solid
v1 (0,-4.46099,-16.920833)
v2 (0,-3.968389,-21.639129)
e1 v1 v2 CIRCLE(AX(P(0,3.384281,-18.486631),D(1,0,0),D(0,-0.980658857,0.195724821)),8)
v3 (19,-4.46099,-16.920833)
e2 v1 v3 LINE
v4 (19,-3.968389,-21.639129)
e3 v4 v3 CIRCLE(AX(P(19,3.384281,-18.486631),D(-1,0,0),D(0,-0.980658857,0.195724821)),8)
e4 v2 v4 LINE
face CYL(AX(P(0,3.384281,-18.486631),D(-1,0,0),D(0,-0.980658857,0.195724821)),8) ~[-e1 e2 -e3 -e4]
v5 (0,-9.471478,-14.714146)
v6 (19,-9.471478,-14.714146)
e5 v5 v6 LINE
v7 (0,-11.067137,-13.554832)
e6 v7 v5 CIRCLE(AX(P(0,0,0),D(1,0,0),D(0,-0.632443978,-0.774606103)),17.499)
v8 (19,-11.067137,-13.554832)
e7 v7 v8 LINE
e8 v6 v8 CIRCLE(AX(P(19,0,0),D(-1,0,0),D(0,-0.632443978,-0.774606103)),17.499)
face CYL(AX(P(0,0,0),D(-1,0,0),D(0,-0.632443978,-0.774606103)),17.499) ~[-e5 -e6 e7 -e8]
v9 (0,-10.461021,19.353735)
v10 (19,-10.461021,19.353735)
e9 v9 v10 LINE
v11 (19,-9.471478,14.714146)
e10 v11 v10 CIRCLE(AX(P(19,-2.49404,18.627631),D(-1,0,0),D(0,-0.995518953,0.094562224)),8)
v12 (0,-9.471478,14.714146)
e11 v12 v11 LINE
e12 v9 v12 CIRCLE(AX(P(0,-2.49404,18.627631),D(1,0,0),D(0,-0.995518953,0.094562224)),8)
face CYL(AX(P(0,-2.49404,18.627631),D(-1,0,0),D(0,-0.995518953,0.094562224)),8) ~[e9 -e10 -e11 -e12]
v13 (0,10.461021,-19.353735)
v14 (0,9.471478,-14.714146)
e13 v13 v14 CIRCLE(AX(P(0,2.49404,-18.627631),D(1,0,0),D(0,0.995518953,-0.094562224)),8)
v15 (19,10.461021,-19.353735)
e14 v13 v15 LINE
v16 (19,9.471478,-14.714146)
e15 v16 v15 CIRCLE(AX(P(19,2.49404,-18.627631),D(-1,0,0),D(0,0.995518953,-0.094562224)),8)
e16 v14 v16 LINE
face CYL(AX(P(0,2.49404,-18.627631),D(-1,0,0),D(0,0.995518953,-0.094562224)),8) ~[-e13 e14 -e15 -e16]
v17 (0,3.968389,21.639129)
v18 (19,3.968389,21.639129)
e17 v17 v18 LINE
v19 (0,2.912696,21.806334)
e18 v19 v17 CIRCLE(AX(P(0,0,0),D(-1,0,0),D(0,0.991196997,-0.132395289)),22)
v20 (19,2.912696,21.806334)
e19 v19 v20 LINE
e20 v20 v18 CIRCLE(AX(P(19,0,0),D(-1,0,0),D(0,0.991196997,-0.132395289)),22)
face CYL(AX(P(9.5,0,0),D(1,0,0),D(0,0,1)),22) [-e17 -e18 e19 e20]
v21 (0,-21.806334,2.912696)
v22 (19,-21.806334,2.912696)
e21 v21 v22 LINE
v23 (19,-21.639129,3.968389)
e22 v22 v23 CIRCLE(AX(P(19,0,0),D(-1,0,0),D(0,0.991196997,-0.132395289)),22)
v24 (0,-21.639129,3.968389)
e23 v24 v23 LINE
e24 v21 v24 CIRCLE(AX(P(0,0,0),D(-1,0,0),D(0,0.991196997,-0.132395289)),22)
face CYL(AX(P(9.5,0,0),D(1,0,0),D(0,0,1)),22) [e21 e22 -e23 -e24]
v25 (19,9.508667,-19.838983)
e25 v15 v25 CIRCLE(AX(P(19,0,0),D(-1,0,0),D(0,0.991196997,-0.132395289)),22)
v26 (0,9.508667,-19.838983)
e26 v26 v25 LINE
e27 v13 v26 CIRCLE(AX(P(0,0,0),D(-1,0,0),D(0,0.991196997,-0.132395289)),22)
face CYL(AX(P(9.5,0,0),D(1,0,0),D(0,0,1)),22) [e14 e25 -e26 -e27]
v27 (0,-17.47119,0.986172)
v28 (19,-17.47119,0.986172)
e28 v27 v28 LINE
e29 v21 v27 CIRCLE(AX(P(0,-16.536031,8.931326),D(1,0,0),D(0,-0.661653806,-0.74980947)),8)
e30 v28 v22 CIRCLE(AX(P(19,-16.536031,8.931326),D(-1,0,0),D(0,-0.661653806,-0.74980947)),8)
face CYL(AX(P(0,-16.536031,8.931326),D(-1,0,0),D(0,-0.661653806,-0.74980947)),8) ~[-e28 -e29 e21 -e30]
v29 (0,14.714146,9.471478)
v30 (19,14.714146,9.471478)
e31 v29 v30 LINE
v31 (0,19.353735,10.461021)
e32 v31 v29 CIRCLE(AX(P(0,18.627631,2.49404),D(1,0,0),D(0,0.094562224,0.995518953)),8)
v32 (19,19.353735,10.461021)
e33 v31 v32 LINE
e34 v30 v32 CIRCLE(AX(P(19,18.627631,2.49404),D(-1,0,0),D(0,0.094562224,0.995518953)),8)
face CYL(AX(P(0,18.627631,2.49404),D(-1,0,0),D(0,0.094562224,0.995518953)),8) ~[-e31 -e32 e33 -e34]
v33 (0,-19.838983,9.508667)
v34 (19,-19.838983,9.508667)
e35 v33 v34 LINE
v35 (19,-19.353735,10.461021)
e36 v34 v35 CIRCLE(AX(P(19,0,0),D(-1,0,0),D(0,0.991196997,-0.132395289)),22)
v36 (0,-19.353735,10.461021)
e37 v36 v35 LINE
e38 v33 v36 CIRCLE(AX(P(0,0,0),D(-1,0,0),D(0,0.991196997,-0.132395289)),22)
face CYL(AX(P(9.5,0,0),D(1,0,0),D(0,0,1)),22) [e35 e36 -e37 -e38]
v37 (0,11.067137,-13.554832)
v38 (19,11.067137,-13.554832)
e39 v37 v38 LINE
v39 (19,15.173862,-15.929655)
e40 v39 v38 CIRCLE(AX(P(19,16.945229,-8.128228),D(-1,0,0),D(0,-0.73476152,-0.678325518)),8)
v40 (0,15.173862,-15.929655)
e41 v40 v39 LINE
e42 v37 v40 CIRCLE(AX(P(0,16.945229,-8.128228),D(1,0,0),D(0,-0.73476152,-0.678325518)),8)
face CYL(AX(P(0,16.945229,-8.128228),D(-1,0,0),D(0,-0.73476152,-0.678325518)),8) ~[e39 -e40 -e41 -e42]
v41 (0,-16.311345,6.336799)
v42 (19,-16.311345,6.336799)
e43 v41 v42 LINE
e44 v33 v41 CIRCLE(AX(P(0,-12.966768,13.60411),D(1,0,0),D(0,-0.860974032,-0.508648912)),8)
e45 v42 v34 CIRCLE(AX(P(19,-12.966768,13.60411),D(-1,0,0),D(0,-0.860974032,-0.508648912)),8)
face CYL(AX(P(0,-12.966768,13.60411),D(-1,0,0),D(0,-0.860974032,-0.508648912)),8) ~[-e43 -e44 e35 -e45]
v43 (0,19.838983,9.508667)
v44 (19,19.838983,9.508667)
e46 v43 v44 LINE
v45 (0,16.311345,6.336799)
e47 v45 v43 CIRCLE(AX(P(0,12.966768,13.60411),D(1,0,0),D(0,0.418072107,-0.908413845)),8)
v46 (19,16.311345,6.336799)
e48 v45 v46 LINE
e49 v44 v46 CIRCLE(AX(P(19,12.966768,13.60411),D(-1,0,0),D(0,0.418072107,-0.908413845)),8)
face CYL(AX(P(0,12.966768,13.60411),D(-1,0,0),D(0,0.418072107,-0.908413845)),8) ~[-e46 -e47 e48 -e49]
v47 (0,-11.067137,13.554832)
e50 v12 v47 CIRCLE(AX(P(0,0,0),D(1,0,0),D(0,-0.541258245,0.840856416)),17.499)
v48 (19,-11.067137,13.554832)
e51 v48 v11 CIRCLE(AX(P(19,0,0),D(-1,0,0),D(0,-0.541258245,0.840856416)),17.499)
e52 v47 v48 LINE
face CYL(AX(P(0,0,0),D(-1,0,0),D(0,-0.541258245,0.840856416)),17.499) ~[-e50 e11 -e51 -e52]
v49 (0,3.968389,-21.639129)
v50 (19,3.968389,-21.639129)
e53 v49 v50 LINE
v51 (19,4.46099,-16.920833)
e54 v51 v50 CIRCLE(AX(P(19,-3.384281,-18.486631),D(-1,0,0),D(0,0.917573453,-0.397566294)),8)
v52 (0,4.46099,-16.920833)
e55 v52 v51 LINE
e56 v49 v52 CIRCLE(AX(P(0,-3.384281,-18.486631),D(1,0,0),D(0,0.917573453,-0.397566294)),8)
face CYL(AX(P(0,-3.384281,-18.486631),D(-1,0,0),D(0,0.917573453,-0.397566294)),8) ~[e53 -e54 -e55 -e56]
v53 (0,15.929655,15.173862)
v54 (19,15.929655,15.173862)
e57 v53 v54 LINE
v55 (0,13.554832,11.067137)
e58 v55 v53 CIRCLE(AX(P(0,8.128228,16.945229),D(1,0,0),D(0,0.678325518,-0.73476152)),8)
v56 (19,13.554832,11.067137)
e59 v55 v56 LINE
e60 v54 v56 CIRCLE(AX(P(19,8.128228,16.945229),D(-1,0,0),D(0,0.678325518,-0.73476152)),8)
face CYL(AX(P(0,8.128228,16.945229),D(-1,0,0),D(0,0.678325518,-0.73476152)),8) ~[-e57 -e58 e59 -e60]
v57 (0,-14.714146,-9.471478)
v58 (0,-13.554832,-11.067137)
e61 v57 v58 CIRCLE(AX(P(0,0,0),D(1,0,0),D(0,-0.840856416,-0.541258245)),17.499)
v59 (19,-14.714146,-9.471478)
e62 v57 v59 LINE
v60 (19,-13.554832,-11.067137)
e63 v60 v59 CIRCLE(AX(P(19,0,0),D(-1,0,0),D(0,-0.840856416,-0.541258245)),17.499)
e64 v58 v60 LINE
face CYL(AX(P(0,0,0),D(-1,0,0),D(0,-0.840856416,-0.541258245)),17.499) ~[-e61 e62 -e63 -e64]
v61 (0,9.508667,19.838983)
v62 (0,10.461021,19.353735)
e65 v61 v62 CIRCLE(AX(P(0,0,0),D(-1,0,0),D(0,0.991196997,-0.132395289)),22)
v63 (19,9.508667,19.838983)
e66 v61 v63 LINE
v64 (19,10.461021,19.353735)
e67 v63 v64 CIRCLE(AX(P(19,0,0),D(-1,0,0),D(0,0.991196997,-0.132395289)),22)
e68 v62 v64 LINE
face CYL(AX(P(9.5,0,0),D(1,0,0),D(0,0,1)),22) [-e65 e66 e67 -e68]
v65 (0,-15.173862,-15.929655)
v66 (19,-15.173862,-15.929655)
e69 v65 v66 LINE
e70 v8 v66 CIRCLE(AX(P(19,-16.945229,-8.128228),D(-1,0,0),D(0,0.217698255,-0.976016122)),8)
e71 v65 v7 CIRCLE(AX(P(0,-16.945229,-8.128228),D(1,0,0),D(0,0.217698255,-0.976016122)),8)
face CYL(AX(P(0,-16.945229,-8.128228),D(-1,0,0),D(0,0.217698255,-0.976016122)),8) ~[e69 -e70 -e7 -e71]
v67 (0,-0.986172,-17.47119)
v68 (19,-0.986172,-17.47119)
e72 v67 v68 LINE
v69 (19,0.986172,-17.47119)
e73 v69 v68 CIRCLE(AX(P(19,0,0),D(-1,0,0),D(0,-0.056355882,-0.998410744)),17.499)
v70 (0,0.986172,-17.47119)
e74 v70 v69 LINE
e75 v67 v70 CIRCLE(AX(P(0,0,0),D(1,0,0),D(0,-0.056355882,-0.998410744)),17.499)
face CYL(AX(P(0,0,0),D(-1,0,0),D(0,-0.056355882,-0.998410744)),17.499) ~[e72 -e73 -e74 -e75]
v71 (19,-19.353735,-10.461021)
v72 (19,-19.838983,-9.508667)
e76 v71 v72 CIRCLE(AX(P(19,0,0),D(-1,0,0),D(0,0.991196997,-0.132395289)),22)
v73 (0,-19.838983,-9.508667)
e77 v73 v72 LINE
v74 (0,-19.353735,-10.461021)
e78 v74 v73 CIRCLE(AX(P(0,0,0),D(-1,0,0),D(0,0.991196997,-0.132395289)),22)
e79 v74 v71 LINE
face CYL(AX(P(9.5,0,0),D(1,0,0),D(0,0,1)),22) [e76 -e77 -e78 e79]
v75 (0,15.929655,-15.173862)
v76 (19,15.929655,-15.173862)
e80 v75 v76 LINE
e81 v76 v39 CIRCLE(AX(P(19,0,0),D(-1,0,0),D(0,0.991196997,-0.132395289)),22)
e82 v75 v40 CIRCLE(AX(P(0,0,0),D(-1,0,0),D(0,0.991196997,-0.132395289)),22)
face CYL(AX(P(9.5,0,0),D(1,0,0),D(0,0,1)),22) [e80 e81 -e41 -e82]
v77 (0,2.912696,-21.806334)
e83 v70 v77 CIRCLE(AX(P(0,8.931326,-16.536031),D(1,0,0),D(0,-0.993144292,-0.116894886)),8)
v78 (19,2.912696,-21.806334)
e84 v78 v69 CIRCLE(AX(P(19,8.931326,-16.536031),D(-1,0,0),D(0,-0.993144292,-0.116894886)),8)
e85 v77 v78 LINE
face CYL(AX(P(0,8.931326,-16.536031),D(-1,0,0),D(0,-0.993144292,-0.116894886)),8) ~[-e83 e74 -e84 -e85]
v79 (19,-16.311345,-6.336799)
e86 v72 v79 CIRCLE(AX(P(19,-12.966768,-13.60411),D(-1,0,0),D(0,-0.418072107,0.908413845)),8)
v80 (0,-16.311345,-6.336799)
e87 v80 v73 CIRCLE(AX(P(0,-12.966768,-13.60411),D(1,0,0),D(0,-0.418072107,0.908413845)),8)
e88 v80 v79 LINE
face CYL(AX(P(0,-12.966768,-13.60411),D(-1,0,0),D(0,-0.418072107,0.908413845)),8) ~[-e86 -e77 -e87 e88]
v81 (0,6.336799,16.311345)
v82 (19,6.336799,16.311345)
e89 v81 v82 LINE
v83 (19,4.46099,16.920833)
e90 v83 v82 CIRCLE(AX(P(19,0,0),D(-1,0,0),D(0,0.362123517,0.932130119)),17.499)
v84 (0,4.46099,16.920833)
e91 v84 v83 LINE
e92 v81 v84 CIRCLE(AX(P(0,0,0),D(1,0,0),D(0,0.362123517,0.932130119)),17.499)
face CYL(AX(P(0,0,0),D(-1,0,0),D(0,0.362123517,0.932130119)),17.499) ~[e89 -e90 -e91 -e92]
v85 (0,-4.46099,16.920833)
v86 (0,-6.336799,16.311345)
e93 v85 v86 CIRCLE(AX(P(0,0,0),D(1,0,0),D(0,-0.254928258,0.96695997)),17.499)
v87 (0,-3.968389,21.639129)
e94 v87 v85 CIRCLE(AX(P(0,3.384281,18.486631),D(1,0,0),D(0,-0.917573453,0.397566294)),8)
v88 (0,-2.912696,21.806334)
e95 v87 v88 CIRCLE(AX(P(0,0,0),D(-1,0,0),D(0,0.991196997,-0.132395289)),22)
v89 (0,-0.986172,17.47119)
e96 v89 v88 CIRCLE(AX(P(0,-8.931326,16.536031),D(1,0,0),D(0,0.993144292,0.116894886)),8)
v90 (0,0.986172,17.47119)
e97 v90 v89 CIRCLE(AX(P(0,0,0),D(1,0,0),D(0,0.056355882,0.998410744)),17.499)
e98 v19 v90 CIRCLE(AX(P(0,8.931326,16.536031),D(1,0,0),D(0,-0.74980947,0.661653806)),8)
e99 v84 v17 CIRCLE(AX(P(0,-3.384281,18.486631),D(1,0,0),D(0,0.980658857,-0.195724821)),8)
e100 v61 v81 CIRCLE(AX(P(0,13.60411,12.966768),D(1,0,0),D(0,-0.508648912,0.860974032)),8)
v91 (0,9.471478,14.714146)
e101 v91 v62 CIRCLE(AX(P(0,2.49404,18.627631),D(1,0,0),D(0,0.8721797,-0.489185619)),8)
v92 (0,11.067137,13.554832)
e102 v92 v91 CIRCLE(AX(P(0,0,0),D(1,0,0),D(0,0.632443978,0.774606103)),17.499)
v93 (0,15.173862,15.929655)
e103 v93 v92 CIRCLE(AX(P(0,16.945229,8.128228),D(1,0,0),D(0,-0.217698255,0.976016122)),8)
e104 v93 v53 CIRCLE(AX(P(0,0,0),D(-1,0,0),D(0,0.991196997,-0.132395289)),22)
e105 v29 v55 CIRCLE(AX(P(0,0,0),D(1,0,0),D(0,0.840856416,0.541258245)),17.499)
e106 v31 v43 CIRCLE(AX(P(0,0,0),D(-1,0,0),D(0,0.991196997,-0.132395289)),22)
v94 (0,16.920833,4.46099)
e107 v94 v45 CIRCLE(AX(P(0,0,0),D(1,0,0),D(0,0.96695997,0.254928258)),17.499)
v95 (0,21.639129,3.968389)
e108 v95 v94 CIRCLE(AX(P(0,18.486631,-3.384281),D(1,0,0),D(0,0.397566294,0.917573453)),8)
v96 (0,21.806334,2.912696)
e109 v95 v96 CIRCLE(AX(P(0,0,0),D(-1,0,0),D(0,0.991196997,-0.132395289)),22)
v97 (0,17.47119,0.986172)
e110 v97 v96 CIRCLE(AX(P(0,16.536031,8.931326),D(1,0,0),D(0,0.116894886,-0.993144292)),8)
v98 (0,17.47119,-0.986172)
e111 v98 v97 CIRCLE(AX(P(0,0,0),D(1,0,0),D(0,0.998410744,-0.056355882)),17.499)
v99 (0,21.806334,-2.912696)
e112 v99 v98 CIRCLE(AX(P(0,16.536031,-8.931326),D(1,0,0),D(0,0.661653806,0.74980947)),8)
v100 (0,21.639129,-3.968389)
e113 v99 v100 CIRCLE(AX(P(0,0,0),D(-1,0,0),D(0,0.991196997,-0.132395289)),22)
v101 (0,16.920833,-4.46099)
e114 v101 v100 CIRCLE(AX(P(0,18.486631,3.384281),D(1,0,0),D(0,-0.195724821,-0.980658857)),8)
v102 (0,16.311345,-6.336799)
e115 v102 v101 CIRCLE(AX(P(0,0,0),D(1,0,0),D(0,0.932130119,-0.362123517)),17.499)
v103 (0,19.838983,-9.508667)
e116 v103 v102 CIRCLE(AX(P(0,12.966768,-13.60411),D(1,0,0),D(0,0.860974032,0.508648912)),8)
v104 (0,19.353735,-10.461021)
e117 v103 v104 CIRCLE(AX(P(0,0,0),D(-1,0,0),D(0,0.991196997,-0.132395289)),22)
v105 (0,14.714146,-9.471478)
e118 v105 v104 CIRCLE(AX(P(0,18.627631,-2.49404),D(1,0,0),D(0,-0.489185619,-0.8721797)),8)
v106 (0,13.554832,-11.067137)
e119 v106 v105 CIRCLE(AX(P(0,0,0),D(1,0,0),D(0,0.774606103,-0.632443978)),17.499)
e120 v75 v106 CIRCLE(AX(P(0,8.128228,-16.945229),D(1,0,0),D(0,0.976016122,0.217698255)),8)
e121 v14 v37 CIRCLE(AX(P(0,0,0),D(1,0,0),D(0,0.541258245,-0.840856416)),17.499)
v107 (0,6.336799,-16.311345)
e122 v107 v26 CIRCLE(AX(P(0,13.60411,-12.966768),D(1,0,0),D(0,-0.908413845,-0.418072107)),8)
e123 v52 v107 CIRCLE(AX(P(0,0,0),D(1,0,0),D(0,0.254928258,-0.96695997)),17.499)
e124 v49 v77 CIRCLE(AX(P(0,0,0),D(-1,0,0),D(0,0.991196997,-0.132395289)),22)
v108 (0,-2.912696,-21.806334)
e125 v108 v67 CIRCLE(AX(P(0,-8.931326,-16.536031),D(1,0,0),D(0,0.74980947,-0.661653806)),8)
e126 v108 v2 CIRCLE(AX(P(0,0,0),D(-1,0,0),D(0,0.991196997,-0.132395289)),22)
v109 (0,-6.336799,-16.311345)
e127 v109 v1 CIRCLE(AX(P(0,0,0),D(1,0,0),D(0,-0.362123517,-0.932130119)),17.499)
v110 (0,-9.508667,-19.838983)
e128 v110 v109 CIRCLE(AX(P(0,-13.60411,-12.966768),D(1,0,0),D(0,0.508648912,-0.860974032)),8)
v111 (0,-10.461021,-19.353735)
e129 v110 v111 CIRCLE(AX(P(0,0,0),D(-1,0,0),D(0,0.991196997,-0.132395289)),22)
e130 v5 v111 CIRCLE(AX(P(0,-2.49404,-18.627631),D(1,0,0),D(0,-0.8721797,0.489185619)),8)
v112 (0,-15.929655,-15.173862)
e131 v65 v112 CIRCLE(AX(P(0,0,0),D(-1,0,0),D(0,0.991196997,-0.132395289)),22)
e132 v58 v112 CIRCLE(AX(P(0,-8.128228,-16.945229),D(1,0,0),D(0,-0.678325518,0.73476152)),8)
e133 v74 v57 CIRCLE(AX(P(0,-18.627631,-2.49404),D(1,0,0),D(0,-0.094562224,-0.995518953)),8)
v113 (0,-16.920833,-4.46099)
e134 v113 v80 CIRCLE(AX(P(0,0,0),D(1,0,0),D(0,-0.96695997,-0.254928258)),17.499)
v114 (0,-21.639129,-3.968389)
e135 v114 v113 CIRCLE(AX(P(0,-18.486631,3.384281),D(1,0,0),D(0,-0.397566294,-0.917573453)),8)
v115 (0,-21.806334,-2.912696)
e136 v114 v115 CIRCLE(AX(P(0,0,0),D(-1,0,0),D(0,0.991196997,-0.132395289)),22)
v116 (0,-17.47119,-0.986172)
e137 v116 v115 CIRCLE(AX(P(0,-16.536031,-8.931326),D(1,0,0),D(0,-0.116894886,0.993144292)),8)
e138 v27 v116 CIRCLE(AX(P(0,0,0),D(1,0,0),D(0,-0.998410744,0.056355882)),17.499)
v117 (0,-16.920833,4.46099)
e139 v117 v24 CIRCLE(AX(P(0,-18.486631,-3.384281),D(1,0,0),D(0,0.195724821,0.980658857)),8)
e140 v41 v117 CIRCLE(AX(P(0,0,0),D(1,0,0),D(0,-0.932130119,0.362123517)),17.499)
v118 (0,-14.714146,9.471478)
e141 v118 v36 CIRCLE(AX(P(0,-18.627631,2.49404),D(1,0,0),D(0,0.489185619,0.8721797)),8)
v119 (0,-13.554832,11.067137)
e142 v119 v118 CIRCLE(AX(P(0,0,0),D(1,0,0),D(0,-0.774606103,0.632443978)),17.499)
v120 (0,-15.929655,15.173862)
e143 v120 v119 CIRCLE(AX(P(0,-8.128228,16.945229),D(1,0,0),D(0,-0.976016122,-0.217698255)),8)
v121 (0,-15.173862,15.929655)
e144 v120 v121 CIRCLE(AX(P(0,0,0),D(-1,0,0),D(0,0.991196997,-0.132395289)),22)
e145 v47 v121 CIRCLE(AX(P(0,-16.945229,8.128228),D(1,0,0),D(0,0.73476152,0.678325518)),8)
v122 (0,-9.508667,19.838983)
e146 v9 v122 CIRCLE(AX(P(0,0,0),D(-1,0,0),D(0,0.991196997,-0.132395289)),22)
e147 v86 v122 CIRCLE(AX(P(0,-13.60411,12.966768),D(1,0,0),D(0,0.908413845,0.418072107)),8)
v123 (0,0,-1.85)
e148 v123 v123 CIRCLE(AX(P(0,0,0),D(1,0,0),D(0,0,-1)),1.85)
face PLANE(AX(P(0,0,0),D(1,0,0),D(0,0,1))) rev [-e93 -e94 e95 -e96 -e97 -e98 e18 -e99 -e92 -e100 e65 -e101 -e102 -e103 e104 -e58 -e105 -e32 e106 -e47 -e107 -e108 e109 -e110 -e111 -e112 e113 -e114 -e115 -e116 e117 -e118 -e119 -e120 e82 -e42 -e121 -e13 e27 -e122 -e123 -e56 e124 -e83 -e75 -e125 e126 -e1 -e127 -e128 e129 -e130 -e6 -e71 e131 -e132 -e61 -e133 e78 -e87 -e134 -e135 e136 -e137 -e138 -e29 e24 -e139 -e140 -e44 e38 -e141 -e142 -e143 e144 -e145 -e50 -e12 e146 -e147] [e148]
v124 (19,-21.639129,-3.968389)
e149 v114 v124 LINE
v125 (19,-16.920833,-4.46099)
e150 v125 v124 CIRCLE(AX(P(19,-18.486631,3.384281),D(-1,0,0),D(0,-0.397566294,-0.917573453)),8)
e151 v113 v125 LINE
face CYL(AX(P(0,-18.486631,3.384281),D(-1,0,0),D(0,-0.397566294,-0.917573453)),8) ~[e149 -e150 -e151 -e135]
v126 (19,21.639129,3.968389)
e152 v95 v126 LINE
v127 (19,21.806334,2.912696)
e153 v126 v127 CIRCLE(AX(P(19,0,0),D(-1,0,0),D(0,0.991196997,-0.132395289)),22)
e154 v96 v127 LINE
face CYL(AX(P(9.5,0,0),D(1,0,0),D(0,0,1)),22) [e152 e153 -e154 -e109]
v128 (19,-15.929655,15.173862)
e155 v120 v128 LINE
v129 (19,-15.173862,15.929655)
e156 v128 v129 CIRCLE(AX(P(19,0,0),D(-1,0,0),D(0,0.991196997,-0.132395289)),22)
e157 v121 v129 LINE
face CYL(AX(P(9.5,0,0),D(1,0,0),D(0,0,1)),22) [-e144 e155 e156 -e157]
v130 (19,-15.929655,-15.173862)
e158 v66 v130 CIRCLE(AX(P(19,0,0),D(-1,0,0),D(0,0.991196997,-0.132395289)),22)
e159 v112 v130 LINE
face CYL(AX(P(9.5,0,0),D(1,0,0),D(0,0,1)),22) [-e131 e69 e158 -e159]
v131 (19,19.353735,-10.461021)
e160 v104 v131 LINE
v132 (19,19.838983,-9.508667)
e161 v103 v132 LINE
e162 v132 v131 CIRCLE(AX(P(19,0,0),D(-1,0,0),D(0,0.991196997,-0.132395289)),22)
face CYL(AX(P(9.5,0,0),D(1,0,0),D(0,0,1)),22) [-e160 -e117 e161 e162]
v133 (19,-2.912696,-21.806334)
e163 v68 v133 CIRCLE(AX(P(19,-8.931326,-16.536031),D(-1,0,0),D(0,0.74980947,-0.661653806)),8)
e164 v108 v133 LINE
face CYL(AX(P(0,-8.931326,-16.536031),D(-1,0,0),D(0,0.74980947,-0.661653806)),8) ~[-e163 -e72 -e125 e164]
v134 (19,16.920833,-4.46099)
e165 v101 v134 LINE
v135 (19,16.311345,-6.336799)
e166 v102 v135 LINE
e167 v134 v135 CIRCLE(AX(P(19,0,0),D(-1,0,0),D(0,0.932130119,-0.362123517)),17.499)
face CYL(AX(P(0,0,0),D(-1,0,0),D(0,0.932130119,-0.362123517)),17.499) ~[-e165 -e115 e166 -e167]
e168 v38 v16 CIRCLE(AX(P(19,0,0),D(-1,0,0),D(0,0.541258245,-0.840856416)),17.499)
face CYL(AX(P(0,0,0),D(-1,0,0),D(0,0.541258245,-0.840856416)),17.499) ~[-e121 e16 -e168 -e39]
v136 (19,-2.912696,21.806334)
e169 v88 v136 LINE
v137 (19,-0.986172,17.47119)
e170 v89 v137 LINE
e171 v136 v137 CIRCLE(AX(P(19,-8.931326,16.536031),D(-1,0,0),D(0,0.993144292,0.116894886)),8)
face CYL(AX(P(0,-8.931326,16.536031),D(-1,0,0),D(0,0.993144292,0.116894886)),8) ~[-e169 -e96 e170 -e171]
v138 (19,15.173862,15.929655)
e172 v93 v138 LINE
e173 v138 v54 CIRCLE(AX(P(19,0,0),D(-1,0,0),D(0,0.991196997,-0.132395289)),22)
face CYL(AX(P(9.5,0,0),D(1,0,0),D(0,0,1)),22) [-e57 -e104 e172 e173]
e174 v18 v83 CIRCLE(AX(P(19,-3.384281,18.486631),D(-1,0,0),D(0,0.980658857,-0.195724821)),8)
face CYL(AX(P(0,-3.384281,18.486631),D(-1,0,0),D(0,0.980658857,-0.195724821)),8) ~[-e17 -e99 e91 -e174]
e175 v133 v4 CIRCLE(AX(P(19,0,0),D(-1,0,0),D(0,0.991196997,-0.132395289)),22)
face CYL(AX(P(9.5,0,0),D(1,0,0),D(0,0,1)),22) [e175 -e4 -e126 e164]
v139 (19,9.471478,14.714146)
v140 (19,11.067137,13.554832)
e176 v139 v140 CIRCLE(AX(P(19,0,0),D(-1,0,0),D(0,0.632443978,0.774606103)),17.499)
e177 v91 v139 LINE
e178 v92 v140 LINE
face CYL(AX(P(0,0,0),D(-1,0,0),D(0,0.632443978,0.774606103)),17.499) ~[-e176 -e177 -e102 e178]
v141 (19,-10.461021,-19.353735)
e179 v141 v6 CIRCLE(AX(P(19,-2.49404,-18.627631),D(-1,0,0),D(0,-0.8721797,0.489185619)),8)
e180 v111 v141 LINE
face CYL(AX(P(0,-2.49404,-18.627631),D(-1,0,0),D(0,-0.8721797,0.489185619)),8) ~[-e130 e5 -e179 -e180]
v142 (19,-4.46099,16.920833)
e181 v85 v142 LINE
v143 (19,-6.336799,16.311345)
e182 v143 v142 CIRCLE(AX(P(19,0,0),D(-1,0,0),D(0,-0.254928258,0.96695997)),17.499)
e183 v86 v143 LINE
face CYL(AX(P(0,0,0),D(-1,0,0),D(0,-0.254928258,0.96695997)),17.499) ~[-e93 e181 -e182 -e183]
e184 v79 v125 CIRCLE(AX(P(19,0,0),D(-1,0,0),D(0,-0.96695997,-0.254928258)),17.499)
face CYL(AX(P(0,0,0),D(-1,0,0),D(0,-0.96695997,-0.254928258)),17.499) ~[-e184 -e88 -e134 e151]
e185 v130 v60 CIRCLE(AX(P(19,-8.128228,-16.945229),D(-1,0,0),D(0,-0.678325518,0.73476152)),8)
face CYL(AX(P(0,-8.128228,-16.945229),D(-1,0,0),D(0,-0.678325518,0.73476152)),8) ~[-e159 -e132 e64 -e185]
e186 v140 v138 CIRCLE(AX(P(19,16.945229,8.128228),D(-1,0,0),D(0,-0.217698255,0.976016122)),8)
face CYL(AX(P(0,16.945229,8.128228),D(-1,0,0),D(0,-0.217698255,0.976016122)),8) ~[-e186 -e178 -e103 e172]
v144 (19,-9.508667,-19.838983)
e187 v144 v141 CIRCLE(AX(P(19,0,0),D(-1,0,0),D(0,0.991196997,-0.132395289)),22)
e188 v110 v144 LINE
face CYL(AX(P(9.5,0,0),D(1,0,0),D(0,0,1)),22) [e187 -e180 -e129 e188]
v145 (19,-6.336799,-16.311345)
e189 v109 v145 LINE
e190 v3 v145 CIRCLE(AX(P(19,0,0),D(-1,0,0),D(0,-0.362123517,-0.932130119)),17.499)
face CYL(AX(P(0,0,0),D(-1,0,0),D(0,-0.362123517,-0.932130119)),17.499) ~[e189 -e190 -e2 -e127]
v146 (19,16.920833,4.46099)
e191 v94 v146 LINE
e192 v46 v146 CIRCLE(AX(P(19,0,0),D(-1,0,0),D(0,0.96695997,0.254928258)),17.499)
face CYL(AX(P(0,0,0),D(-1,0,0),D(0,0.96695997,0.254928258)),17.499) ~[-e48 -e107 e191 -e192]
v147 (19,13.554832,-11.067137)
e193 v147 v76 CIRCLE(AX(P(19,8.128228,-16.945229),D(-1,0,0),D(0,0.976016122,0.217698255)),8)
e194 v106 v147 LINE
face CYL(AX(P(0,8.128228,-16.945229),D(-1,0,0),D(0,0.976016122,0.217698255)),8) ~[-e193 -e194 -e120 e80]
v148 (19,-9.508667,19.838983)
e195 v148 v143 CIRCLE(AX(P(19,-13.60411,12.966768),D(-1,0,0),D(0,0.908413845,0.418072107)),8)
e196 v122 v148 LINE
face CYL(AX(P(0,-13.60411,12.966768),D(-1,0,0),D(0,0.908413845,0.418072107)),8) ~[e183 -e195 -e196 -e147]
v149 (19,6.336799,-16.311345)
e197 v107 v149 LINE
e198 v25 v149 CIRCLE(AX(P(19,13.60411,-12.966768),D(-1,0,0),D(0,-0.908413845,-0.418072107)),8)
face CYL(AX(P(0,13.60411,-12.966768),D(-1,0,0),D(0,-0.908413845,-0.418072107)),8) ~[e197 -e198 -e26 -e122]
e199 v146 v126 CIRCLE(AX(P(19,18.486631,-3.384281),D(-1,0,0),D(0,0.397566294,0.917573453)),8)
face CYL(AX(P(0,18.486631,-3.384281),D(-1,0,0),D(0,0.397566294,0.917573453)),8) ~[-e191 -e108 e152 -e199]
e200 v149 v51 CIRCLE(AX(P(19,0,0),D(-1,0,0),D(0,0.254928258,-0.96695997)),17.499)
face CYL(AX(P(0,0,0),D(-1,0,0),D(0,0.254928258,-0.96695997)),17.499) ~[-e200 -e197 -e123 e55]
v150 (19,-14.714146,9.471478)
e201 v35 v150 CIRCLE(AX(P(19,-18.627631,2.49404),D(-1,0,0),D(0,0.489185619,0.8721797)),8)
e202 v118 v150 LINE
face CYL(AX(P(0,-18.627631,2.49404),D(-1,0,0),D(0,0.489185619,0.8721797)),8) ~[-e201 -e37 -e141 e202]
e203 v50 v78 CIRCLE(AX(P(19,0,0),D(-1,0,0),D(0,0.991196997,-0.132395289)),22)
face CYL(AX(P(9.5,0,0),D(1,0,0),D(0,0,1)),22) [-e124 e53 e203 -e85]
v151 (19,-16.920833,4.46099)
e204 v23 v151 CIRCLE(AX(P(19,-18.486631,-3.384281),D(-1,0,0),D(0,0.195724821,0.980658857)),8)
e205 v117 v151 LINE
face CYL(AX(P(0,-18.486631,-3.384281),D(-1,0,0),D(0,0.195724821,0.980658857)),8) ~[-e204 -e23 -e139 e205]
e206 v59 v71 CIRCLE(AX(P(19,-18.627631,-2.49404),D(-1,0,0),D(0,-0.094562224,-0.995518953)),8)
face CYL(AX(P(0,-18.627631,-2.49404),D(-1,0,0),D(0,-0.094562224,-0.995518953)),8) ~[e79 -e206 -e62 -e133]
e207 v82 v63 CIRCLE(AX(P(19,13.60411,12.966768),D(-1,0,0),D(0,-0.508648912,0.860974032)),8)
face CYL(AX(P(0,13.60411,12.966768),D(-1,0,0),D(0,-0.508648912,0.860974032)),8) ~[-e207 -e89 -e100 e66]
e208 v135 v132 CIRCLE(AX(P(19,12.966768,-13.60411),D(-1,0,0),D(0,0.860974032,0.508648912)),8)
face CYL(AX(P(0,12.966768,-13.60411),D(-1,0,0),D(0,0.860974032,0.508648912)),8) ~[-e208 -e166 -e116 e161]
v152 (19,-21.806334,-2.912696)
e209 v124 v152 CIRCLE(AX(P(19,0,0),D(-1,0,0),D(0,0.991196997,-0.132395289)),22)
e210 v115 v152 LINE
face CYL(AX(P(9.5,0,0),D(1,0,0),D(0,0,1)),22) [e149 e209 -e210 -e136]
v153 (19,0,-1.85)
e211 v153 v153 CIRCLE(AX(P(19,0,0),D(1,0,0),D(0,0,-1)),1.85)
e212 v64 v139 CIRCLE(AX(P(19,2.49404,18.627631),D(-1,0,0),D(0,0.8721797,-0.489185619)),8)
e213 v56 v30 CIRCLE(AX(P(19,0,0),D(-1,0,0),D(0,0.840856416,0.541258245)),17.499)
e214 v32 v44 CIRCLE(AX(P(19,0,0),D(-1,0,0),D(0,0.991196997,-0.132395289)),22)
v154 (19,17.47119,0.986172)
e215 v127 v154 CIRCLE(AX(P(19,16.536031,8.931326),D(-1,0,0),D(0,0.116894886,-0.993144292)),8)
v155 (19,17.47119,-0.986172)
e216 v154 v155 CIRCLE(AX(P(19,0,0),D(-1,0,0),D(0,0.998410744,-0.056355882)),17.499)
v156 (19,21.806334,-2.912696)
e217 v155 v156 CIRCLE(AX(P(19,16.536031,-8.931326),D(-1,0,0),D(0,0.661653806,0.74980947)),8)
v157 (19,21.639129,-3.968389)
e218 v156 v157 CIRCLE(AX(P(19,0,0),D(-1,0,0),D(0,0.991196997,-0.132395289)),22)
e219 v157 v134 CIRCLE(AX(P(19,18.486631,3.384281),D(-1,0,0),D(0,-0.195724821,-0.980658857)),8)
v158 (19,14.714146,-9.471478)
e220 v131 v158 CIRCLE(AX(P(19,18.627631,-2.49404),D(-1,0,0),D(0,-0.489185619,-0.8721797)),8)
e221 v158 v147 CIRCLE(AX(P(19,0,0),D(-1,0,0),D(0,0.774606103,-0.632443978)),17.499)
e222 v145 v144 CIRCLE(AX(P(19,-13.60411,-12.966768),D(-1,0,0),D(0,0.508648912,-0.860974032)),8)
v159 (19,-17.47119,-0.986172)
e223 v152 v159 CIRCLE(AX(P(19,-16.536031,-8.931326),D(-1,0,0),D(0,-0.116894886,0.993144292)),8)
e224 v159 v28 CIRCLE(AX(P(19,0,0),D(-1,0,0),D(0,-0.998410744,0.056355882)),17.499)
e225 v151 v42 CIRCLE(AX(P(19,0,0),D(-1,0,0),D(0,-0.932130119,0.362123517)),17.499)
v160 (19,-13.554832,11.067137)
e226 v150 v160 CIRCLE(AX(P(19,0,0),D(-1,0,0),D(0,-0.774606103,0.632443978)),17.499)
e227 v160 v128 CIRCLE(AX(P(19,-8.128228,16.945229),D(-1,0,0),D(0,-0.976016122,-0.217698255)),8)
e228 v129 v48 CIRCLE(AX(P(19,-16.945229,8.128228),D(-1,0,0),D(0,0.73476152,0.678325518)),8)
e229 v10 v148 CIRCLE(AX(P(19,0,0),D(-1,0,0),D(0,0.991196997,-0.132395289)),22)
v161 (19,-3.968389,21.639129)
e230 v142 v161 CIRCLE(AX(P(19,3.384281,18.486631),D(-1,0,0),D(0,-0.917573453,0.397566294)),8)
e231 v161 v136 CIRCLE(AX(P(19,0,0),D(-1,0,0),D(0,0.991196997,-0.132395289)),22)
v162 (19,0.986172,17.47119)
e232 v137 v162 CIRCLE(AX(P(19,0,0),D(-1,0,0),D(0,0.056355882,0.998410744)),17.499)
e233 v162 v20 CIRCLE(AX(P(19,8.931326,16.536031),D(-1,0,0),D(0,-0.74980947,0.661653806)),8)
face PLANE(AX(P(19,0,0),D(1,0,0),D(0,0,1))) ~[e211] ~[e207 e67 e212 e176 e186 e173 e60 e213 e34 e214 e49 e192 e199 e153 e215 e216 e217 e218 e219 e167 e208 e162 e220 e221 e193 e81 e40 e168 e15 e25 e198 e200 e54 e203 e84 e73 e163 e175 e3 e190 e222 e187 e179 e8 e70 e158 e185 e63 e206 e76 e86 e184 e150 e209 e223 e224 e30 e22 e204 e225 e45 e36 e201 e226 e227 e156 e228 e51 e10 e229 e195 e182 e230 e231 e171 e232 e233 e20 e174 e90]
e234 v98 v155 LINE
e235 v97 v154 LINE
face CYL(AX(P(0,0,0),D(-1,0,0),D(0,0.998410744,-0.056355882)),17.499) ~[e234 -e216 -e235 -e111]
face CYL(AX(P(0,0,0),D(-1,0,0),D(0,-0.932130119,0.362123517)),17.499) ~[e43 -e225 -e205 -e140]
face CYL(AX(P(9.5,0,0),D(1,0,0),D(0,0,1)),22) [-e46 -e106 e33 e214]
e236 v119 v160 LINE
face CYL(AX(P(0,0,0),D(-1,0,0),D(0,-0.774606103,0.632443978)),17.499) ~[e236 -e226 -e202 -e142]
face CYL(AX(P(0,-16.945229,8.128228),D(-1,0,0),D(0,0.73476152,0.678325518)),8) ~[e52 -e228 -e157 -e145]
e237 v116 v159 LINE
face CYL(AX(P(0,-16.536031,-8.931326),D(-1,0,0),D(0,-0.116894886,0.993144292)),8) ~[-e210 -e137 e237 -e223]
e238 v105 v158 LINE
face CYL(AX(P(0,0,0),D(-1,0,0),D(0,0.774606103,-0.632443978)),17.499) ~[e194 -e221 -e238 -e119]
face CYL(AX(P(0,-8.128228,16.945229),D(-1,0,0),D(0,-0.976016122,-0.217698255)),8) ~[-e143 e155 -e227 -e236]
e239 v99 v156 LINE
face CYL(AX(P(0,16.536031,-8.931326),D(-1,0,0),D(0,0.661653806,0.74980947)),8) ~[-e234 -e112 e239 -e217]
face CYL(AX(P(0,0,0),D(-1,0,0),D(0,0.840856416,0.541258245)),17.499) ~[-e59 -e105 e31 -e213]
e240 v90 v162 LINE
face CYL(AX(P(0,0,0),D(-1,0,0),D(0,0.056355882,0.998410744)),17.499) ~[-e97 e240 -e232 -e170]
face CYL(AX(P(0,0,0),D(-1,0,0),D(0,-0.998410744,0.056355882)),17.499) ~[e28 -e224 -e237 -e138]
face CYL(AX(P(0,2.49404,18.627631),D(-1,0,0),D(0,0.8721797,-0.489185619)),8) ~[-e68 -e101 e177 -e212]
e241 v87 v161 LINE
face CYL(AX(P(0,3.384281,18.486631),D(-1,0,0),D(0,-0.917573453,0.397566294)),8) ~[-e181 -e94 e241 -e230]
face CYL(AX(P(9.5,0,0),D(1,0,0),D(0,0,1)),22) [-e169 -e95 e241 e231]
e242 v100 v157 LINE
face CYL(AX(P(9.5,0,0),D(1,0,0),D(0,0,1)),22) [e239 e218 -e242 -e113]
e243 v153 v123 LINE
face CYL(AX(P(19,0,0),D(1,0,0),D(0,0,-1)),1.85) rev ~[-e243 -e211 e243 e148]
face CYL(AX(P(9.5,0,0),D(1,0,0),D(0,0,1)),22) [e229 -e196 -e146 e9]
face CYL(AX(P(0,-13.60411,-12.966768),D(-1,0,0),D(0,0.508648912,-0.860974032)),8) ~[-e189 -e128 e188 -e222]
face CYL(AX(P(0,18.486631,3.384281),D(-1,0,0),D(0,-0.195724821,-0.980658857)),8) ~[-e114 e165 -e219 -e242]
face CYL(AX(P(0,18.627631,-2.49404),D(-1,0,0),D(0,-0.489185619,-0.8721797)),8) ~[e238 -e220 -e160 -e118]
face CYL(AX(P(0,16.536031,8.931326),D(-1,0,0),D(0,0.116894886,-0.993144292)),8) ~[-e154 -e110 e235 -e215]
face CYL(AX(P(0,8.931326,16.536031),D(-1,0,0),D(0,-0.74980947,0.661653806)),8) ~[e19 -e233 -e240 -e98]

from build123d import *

# Parameters (mm, degrees)
BASPROSKE_W        = 19
BASPROSKE_H        = 22
TOOTHCUT_DEPTH     = 37.455452267
TEETHCUTS_COUNT    = 20
TEETHCUTS_ANGLE    = 342
SKETCH1_R          = 1.85
CUT_EXTRUDE1_DEPTH = 37.221987796


with BuildPart() as part:
    # BasProSke → Base-Revolve (revolve)
    with BuildSketch(Plane(origin=(0, 0, 0), x_dir=(1, 0, 0), z_dir=(0, 1, 0)), mode=Mode.PRIVATE) as base_revolve_sk:
        with Locations((9.5, 11)):
            Rectangle(BASPROSKE_W, BASPROSKE_H)
    revolve(base_revolve_sk.sketch.rotate(Axis((-10, 0, 0), (1, 0, 0)), 180), axis=Axis((-10, 0, 0), (1, 0, 0)))

    # TooCutSke → ToothCut (cut, through all)
    with BuildSketch(Plane(origin=(0, 0, 0), x_dir=(0, 0, -1), z_dir=(1, 0, 0))):
        with BuildLine():
            ThreePointArc((0.986171591, 17.471189616), (0, 17.499), (-0.986171591, 17.471189616))
            ThreePointArc((-0.986171591, 17.471189616), (-1.626916196, 19.798789858), (-2.932850173, 21.829260982))
            ThreePointArc((-2.932850173, 21.829260982), (0, 22.0254), (2.932850173, 21.829260982))
            ThreePointArc((2.932850173, 21.829260982), (1.626916196, 19.798789858), (0.986171591, 17.471189616))
        make_face()
    toothcut = extrude(amount=TOOTHCUT_DEPTH, mode=Mode.SUBTRACT)

    # TeethCuts: ToothCut ×20 about axis
    teethcuts_axis = Axis((-10, 0, 0), (1, 0, 0))
    for i in range(1, TEETHCUTS_COUNT):
        add(toothcut.rotate(teethcuts_axis, i * TEETHCUTS_ANGLE / (TEETHCUTS_COUNT - 1)), mode=Mode.SUBTRACT)

    # Sketch1 → Cut-Extrude1 (cut, through all)
    with BuildSketch(Plane(origin=(19, 0, 0), x_dir=(0, 0, -1), z_dir=(1, 0, 0))):
        Circle(SKETCH1_R)
    extrude(amount=-CUT_EXTRUDE1_DEPTH, mode=Mode.SUBTRACT)


solid = part.part
